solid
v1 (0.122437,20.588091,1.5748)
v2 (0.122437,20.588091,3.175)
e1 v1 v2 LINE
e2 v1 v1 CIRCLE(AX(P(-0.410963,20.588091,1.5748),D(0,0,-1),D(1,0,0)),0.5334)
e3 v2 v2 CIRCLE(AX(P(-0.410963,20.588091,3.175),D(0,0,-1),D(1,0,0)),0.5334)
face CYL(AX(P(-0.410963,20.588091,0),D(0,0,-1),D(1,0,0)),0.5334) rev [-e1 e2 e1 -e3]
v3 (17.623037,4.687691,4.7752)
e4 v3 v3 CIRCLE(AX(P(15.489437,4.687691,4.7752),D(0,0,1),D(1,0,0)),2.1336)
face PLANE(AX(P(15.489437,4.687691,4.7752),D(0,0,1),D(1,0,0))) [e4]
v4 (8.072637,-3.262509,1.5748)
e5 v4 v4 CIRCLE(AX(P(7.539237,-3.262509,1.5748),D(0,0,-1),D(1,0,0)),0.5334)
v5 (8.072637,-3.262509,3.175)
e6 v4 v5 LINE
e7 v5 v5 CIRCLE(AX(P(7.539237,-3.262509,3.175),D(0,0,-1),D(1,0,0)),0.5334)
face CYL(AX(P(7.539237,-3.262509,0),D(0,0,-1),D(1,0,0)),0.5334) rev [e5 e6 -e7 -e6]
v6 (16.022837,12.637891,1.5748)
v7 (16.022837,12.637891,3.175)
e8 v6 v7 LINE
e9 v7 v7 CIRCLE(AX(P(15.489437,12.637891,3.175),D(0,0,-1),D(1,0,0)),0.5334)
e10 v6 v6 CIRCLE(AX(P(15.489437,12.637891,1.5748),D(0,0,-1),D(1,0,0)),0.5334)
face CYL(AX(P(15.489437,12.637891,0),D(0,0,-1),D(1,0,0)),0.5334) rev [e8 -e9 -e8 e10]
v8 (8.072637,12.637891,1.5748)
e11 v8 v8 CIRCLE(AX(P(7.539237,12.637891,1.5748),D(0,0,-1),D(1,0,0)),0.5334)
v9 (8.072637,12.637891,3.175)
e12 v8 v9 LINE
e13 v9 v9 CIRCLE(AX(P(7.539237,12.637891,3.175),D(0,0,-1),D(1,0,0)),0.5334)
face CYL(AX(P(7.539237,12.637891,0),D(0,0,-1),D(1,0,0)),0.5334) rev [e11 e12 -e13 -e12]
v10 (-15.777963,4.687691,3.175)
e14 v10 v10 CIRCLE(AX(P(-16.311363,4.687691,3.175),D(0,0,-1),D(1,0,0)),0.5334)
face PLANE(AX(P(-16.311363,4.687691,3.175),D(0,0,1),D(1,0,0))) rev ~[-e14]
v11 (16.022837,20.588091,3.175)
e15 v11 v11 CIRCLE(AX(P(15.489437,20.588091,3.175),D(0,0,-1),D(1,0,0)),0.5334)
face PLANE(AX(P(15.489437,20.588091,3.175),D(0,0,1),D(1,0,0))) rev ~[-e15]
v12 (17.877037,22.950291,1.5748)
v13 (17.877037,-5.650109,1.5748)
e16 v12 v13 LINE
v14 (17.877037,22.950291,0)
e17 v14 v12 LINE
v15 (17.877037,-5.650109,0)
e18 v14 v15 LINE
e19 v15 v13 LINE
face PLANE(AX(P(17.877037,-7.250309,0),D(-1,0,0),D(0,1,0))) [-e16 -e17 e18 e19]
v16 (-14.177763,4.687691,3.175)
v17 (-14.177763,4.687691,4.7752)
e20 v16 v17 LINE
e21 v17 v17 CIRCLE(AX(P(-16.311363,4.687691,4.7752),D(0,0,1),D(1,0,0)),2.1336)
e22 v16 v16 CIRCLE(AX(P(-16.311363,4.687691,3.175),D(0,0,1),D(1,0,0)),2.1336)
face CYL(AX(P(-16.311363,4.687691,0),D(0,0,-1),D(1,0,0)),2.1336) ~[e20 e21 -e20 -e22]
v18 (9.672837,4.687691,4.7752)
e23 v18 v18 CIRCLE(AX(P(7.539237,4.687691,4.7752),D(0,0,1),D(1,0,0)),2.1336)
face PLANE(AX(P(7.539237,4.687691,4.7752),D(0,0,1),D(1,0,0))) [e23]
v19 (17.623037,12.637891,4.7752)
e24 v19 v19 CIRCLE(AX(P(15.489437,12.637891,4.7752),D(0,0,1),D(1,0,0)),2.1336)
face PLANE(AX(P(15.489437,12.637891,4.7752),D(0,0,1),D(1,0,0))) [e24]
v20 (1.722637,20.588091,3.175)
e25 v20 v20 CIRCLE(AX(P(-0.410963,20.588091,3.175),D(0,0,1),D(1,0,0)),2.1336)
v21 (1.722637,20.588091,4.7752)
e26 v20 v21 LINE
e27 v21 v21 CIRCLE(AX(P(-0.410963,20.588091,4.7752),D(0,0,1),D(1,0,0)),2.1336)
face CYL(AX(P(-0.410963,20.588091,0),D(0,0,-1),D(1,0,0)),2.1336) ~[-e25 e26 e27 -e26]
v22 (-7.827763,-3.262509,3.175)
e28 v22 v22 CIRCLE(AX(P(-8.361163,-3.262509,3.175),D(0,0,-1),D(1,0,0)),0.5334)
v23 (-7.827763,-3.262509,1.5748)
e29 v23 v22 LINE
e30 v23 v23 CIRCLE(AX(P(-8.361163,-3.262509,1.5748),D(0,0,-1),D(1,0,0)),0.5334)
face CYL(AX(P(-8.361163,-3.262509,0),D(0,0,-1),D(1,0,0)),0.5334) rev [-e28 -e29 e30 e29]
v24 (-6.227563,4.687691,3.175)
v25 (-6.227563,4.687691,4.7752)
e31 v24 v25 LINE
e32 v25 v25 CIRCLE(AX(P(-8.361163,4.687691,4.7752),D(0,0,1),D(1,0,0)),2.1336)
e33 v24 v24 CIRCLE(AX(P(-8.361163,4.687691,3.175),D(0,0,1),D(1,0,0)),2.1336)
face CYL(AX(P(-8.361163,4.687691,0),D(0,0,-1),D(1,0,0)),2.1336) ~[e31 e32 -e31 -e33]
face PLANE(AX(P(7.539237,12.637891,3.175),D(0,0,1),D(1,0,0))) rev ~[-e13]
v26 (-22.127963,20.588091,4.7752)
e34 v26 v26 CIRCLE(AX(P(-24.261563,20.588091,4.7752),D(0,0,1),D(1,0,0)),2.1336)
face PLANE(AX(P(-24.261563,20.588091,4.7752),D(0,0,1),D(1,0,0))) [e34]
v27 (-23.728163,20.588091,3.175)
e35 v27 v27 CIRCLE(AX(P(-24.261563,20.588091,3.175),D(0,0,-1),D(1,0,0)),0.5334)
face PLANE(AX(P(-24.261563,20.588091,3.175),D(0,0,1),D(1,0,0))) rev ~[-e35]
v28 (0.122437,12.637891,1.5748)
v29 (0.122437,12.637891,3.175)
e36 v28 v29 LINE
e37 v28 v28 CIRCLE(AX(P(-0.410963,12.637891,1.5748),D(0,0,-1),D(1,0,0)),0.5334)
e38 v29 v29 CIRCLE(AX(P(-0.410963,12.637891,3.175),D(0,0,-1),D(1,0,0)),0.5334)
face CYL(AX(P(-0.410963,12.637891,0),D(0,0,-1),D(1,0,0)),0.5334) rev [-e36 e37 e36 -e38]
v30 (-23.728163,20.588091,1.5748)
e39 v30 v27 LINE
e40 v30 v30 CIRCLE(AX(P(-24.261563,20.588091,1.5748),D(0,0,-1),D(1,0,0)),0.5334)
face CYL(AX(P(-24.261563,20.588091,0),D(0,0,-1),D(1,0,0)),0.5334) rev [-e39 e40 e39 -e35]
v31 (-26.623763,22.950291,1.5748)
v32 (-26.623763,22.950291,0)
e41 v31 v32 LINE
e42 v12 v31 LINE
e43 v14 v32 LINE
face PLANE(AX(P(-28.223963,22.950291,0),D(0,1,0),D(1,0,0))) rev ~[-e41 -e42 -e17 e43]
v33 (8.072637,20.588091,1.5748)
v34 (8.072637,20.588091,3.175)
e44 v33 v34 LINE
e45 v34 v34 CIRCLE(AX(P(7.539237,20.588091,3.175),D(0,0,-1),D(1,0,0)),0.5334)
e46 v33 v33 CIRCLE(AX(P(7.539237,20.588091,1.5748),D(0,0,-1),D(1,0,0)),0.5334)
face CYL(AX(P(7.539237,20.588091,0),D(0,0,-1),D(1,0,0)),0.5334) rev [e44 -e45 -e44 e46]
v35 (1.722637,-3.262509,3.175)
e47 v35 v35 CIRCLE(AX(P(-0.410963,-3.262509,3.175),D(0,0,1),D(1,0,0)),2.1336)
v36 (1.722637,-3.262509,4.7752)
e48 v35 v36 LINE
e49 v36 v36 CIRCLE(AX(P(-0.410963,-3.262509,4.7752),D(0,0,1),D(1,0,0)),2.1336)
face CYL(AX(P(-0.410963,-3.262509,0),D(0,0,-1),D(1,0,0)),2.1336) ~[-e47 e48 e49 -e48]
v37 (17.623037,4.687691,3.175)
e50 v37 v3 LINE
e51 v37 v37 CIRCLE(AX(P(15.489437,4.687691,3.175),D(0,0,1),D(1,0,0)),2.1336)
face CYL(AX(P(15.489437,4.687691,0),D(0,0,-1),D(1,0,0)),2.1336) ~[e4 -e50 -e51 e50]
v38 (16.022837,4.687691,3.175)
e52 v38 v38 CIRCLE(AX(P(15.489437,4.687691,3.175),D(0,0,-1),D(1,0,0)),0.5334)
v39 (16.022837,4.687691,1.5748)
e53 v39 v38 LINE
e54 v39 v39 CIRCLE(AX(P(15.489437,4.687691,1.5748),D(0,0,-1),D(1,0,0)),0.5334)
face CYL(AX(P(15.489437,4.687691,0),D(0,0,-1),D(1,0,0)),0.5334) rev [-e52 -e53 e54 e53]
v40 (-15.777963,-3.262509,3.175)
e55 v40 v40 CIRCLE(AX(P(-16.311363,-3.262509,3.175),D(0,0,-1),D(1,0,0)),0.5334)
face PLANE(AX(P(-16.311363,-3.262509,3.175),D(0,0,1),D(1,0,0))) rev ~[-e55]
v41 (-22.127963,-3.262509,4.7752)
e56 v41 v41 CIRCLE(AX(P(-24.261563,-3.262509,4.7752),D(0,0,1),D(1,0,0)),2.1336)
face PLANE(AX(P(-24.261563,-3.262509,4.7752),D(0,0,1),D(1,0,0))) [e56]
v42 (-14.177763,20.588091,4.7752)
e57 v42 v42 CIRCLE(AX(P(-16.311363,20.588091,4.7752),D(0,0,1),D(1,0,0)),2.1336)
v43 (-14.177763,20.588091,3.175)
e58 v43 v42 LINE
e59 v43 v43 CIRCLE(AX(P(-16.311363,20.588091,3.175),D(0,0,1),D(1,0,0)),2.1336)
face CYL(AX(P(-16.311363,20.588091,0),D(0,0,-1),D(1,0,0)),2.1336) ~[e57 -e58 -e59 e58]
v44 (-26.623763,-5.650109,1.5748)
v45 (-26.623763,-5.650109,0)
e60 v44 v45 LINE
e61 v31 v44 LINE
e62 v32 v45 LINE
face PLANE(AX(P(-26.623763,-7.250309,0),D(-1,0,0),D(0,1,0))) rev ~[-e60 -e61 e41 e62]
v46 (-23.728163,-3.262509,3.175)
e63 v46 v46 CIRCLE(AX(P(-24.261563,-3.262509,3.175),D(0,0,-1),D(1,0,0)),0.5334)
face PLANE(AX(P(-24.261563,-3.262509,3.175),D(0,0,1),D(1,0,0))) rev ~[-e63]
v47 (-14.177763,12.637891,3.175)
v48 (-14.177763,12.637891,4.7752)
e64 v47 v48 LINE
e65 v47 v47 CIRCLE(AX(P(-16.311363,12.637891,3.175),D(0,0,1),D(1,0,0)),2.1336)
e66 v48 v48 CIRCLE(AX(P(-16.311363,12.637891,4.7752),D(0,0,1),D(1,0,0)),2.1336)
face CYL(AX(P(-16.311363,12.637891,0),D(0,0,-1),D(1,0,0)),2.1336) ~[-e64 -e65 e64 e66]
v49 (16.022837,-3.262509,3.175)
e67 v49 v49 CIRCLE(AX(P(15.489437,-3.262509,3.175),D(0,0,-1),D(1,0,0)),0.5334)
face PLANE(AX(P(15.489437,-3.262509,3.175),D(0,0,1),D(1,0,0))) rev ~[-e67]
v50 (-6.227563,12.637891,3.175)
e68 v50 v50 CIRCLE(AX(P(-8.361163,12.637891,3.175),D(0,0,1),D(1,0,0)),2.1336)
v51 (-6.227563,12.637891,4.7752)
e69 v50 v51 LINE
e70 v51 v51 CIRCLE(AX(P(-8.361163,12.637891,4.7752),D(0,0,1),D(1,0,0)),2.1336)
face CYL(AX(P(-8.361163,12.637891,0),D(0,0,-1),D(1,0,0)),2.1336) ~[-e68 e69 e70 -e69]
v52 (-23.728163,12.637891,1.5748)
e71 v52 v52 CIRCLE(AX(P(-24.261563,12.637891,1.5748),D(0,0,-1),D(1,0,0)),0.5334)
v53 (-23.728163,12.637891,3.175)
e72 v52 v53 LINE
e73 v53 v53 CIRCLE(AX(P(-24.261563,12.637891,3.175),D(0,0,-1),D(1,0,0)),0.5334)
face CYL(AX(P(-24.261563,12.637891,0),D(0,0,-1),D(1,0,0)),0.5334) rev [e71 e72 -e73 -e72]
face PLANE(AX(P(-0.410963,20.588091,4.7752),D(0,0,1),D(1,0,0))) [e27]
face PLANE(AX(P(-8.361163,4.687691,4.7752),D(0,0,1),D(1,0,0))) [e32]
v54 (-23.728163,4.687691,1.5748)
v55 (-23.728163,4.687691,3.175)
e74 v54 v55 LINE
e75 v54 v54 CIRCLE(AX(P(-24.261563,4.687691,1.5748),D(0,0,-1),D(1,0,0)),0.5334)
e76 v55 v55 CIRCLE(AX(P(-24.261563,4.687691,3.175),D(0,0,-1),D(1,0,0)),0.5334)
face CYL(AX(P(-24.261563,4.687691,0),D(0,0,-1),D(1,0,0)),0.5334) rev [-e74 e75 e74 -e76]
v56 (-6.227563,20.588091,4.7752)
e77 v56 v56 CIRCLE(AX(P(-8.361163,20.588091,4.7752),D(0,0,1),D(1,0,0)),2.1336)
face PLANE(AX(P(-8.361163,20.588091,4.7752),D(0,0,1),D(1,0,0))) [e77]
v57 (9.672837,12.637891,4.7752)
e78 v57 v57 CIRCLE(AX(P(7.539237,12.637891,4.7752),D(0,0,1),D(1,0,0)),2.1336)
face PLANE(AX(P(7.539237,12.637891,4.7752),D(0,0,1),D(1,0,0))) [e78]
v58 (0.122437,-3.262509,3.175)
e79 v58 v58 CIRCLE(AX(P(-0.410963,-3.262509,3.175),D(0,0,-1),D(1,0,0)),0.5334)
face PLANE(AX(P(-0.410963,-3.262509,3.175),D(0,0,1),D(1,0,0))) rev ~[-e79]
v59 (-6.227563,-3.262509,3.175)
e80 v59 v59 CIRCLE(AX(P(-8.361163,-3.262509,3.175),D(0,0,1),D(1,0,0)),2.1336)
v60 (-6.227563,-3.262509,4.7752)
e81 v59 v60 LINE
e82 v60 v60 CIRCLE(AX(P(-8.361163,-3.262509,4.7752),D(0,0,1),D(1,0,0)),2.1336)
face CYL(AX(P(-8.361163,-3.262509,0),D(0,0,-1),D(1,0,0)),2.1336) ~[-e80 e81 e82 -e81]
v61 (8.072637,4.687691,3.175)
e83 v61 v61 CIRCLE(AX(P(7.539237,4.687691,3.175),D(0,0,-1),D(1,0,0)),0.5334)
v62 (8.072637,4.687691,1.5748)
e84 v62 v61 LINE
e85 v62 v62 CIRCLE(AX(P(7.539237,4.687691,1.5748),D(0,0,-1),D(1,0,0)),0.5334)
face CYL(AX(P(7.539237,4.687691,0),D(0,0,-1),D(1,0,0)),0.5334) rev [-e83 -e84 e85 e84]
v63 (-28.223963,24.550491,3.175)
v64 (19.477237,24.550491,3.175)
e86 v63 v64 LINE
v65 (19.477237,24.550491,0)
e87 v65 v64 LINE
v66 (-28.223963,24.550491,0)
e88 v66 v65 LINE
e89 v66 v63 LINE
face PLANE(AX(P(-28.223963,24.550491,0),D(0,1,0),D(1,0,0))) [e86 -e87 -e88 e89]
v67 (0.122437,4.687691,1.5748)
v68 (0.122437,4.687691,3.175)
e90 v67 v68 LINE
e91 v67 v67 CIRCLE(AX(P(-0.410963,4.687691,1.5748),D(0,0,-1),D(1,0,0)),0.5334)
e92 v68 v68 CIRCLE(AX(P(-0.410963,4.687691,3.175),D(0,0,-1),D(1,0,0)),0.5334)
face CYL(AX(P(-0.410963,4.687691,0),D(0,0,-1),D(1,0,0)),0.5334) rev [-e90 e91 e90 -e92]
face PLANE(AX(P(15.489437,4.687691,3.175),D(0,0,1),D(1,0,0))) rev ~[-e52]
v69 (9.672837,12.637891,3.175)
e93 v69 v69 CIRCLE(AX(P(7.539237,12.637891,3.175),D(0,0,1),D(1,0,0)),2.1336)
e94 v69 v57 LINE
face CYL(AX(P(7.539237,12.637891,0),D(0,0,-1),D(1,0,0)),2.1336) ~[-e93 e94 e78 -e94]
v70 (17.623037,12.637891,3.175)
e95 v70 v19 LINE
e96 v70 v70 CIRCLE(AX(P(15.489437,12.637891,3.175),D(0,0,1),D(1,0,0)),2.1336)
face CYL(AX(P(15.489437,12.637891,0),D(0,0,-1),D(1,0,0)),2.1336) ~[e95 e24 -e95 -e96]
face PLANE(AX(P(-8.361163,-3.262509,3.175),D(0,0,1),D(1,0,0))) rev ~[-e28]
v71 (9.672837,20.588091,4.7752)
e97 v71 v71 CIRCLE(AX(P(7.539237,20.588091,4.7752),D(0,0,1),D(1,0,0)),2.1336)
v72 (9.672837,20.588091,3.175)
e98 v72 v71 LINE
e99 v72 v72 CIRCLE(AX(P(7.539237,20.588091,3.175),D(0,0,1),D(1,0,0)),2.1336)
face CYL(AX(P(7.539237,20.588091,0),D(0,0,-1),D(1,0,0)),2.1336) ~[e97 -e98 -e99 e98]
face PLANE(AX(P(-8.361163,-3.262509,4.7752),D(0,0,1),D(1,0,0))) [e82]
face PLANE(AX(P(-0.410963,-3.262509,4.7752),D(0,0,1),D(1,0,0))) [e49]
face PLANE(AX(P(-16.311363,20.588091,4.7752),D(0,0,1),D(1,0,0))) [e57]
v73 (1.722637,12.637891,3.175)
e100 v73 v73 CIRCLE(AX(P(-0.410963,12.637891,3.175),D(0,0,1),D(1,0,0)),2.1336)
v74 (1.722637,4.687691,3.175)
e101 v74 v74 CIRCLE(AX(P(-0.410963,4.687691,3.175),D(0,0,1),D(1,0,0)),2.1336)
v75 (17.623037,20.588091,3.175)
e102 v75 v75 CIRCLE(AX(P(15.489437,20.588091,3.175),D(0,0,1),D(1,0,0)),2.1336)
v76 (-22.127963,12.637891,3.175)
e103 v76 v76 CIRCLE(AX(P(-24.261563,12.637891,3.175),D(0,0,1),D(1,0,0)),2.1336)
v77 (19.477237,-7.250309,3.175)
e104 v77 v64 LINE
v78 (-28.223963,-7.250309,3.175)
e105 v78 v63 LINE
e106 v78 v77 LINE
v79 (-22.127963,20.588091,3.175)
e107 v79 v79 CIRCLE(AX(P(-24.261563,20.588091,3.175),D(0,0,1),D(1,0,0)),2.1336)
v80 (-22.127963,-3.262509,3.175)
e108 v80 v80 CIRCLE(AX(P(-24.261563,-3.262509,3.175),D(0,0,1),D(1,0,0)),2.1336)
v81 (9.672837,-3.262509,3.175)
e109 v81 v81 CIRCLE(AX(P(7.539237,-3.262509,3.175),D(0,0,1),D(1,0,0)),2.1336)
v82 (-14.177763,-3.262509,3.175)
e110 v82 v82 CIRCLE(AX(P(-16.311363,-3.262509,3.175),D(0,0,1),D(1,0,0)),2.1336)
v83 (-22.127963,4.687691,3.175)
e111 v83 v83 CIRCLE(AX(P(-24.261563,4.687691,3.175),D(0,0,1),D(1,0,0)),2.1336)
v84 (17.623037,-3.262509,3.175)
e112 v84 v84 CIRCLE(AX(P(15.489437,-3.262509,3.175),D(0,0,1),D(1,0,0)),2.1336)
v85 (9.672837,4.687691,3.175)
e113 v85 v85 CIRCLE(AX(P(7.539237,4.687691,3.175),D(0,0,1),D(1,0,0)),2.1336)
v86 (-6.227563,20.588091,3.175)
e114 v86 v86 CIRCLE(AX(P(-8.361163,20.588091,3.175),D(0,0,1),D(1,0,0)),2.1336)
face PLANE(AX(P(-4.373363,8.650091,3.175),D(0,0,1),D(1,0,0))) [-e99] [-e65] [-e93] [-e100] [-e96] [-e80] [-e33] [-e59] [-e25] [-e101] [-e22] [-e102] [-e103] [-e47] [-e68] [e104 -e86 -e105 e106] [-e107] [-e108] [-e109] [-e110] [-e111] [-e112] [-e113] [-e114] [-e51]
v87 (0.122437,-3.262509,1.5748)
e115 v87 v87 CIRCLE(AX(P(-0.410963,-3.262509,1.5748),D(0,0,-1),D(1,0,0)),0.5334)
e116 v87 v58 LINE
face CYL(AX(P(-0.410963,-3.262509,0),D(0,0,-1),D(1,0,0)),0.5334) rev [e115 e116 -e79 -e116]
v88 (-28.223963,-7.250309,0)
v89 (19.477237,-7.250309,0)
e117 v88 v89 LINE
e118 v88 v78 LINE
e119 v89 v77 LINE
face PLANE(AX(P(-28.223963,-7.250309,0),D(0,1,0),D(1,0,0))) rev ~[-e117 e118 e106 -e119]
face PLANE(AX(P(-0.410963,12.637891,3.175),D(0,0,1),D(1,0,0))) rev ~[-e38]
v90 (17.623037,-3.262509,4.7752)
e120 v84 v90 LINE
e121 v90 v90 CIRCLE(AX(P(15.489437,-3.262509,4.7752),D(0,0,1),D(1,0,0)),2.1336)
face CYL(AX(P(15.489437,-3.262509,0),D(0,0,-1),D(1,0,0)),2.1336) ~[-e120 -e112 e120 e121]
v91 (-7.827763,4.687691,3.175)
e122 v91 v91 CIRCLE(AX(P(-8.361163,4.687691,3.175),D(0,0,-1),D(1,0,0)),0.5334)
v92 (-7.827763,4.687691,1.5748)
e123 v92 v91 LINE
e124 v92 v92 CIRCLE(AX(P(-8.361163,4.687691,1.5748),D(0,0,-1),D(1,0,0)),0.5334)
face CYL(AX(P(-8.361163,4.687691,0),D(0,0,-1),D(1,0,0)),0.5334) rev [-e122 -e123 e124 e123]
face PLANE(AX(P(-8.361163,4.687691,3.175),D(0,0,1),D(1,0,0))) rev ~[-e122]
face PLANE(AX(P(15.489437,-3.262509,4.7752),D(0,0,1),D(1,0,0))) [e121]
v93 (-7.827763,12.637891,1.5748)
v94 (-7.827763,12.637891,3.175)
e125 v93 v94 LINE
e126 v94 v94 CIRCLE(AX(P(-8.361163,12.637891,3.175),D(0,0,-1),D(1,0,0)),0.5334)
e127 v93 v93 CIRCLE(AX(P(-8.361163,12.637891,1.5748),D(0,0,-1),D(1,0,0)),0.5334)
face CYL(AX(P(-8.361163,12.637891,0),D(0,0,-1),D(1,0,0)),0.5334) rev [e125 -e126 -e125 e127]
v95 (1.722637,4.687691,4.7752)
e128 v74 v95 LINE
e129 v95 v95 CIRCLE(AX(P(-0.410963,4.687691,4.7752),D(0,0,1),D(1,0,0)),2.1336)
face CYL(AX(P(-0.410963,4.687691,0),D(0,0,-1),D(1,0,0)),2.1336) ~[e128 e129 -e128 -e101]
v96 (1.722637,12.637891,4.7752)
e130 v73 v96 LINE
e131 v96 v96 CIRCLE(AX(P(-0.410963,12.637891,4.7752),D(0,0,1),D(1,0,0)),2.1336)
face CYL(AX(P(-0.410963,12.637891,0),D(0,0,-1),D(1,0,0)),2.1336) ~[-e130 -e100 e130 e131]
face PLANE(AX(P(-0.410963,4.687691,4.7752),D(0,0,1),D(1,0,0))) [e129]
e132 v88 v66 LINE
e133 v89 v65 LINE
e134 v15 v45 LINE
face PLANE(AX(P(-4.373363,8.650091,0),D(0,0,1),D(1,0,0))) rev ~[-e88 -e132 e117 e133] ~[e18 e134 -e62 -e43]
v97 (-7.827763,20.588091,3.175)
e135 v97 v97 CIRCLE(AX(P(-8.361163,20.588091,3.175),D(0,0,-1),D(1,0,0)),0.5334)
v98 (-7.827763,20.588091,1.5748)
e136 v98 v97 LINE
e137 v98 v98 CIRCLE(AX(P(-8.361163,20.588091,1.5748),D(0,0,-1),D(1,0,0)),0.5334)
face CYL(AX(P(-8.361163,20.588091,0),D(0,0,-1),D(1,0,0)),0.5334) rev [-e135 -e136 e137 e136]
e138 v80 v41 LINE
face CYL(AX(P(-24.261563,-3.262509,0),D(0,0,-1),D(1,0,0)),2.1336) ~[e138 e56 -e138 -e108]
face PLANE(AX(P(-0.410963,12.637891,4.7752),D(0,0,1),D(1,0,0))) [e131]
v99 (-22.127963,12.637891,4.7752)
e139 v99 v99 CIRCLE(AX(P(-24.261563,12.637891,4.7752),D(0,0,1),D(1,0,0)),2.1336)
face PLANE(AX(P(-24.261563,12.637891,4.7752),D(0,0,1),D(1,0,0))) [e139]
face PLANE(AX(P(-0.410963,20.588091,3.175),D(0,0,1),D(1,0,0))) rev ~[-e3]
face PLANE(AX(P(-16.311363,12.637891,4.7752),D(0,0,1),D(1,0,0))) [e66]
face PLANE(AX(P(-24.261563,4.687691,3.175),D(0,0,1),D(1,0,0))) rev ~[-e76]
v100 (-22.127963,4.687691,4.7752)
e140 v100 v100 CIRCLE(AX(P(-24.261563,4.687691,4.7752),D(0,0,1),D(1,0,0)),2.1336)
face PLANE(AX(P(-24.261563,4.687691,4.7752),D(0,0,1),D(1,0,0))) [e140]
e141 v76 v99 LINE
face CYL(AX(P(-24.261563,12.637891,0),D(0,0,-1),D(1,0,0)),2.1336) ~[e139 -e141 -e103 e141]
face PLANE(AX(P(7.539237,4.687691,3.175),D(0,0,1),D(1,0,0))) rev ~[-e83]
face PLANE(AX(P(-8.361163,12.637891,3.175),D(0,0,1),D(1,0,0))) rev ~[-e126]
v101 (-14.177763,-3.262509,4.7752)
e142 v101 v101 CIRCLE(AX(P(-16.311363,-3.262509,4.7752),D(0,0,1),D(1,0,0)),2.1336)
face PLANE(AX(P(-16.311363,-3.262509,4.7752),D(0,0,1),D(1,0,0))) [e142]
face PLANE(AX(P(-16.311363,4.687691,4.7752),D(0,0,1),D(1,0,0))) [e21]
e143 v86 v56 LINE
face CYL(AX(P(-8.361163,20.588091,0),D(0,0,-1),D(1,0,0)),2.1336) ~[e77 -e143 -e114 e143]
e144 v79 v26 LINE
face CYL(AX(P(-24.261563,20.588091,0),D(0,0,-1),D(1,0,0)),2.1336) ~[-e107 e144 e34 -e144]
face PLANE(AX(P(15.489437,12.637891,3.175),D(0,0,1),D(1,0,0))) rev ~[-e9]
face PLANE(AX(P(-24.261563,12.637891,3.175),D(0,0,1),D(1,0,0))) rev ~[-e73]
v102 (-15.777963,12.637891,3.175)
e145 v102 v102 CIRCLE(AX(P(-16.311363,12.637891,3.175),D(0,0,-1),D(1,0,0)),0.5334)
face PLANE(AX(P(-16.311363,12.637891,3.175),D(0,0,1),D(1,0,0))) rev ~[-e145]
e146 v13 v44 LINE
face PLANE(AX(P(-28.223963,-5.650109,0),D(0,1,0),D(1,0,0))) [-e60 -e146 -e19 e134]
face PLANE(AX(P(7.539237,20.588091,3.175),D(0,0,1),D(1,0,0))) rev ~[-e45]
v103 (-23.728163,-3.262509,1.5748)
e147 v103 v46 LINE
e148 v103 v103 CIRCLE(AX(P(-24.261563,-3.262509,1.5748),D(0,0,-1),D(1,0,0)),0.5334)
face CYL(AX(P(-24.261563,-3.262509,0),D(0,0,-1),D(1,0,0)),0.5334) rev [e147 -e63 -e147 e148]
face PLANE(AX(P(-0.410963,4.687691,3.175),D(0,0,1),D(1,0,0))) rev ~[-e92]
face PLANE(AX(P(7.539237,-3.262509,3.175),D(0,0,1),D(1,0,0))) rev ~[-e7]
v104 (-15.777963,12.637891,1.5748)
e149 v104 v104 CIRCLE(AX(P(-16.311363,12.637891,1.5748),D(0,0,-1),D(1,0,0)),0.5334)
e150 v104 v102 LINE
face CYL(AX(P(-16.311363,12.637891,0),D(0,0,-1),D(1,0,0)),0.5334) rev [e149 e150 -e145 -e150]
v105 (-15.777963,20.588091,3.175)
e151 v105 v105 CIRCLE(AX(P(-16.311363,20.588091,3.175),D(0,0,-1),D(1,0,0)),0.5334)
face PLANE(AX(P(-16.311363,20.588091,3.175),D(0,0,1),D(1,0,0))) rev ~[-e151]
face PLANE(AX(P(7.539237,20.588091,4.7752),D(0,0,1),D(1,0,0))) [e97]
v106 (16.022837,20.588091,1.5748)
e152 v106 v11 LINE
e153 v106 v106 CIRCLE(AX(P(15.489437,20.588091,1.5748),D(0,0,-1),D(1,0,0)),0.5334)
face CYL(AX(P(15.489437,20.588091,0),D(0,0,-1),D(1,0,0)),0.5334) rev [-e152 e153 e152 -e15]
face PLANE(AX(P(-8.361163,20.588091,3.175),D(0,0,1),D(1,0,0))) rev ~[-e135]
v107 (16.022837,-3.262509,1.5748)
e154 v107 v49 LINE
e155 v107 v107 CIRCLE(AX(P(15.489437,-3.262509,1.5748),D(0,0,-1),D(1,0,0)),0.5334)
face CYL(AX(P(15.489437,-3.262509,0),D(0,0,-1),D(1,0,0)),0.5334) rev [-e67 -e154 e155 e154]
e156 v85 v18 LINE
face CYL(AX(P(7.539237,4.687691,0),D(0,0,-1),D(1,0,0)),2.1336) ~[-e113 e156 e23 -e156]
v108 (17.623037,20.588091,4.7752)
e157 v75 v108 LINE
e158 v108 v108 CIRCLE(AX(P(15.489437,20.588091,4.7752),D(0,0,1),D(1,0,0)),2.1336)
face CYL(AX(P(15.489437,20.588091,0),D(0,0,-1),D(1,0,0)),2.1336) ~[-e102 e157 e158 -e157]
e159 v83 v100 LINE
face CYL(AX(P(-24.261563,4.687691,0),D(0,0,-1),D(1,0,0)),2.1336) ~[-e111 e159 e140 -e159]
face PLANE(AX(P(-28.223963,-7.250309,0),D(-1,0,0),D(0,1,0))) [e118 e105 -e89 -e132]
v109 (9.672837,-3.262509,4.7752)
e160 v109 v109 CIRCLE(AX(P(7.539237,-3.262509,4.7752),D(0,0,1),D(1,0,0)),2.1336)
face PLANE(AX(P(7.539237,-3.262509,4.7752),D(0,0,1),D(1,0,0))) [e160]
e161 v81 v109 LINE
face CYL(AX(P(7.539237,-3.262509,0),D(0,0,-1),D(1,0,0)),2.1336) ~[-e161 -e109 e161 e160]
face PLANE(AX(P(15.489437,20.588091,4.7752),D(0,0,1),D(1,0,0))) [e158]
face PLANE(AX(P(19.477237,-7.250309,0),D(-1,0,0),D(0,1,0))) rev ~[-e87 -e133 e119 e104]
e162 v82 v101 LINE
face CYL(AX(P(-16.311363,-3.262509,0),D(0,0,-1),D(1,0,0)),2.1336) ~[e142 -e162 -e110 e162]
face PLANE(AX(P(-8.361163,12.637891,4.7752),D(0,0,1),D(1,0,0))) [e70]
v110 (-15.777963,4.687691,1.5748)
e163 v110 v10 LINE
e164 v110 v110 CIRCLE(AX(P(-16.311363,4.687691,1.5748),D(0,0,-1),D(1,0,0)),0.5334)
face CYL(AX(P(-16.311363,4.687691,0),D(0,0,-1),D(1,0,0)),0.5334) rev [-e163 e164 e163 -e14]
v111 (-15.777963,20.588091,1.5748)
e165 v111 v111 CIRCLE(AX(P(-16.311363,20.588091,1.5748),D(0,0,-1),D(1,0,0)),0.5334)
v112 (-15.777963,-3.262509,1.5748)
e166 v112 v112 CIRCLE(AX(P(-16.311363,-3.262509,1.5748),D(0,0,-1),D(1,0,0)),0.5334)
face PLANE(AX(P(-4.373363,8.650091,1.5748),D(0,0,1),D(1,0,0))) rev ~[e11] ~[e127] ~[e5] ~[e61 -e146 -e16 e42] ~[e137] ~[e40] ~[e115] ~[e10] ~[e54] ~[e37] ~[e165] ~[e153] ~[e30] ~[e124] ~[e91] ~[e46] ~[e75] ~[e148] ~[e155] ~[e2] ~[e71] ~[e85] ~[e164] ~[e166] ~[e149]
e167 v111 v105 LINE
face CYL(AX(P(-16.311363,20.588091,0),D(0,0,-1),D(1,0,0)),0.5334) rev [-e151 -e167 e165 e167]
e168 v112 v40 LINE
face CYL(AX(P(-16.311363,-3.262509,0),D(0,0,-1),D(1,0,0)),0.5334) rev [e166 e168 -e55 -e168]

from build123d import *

# Parameters (mm, degrees)
F0_W     = 47.7012
F0_H     = 31.8008
F0_R     = 2.1336
F1_DEPTH = 3.175
F2_DEPTH = 4.7752
F3_T     = -1.6002


with BuildPart() as f1:
    # F0 (on Top) → F1 (new body)
    with BuildSketch(Plane.XY):
        with Locations((-4.3733632303, 8.6500905454)):
            Rectangle(F0_W, F0_H)
        with Locations((-24.2615632303, -3.2625094546)):
            Circle(F0_R, mode=Mode.SUBTRACT)
        with Locations((-16.3113632303, -3.2625094546)):
            Circle(F0_R, mode=Mode.SUBTRACT)
        with Locations((-8.3611632303, -3.2625094546)):
            Circle(F0_R, mode=Mode.SUBTRACT)
        with Locations((-24.2615632303, 4.6876905454)):
            Circle(F0_R, mode=Mode.SUBTRACT)
        with Locations((-16.3113632303, 4.6876905454)):
            Circle(F0_R, mode=Mode.SUBTRACT)
        with Locations((-8.3611632303, 4.6876905454)):
            Circle(F0_R, mode=Mode.SUBTRACT)
        with Locations((-0.4109632303, -3.2625094546)):
            Circle(F0_R, mode=Mode.SUBTRACT)
        with Locations((7.5392367697, -3.2625094546)):
            Circle(F0_R, mode=Mode.SUBTRACT)
        with Locations((15.4894367697, -3.2625094546)):
            Circle(F0_R, mode=Mode.SUBTRACT)
        with Locations((-0.4109632303, 4.6876905454)):
            Circle(F0_R, mode=Mode.SUBTRACT)
        with Locations((7.5392367697, 4.6876905454)):
            Circle(F0_R, mode=Mode.SUBTRACT)
        with Locations((15.4894367697, 4.6876905454)):
            Circle(F0_R, mode=Mode.SUBTRACT)
        with Locations((-24.2615632303, 12.6378905454)):
            Circle(F0_R, mode=Mode.SUBTRACT)
        with Locations((-16.3113632303, 12.6378905454)):
            Circle(F0_R, mode=Mode.SUBTRACT)
        with Locations((-8.3611632303, 12.6378905454)):
            Circle(F0_R, mode=Mode.SUBTRACT)
        with Locations((-24.2615632303, 20.5880905454)):
            Circle(F0_R, mode=Mode.SUBTRACT)
        with Locations((-16.3113632303, 20.5880905454)):
            Circle(F0_R, mode=Mode.SUBTRACT)
        with Locations((-8.3611632303, 20.5880905454)):
            Circle(F0_R, mode=Mode.SUBTRACT)
        with Locations((-0.4109632303, 12.6378905454)):
            Circle(F0_R, mode=Mode.SUBTRACT)
        with Locations((7.5392367697, 12.6378905454)):
            Circle(F0_R, mode=Mode.SUBTRACT)
        with Locations((15.4894367697, 12.6378905454)):
            Circle(F0_R, mode=Mode.SUBTRACT)
        with Locations((-0.4109632303, 20.5880905454)):
            Circle(F0_R, mode=Mode.SUBTRACT)
        with Locations((7.5392367697, 20.5880905454)):
            Circle(F0_R, mode=Mode.SUBTRACT)
        with Locations((15.4894367697, 20.5880905454)):
            Circle(F0_R, mode=Mode.SUBTRACT)
    extrude(amount=F1_DEPTH)

    # F0 (on Top) → F2 (join)
    with BuildSketch(Plane.XY):
        with Locations((-24.2615632303, 20.5880905454)):
            Circle(F0_R)
        with Locations((-16.3113632303, 20.5880905454)):
            Circle(F0_R)
        with Locations((-8.3611632303, 20.5880905454)):
            Circle(F0_R)
        with Locations((-0.4109632303, 20.5880905454)):
            Circle(F0_R)
        with Locations((7.5392367697, 20.5880905454)):
            Circle(F0_R)
        with Locations((15.4894367697, 20.5880905454)):
            Circle(F0_R)
        with Locations((15.4894367697, 12.6378905454)):
            Circle(F0_R)
        with Locations((7.5392367697, 12.6378905454)):
            Circle(F0_R)
        with Locations((-0.4109632303, 12.6378905454)):
            Circle(F0_R)
        with Locations((-8.3611632303, 12.6378905454)):
            Circle(F0_R)
        with Locations((-16.3113632303, 12.6378905454)):
            Circle(F0_R)
        with Locations((-24.2615632303, 12.6378905454)):
            Circle(F0_R)
        with Locations((-24.2615632303, 4.6876905454)):
            Circle(F0_R)
        with Locations((-16.3113632303, 4.6876905454)):
            Circle(F0_R)
        with Locations((-8.3611632303, 4.6876905454)):
            Circle(F0_R)
        with Locations((-0.4109632303, 4.6876905454)):
            Circle(F0_R)
        with Locations((7.5392367697, 4.6876905454)):
            Circle(F0_R)
        with Locations((15.4894367697, 4.6876905454)):
            Circle(F0_R)
        with Locations((15.4894367697, -3.2625094546)):
            Circle(F0_R)
        with Locations((7.5392367697, -3.2625094546)):
            Circle(F0_R)
        with Locations((-0.4109632303, -3.2625094546)):
            Circle(F0_R)
        with Locations((-8.3611632303, -3.2625094546)):
            Circle(F0_R)
        with Locations((-16.3113632303, -3.2625094546)):
            Circle(F0_R)
        with Locations((-24.2615632303, -3.2625094546)):
            Circle(F0_R)
    extrude(amount=F2_DEPTH)

    # F3
    f3_openings = [f1.faces().sort_by_distance(p)[0] for p in [
        (-4.373363, 8.650091, 0),
    ]]
    offset(amount=F3_T, openings=f3_openings, kind=Kind.INTERSECTION)


solid = f1.part
